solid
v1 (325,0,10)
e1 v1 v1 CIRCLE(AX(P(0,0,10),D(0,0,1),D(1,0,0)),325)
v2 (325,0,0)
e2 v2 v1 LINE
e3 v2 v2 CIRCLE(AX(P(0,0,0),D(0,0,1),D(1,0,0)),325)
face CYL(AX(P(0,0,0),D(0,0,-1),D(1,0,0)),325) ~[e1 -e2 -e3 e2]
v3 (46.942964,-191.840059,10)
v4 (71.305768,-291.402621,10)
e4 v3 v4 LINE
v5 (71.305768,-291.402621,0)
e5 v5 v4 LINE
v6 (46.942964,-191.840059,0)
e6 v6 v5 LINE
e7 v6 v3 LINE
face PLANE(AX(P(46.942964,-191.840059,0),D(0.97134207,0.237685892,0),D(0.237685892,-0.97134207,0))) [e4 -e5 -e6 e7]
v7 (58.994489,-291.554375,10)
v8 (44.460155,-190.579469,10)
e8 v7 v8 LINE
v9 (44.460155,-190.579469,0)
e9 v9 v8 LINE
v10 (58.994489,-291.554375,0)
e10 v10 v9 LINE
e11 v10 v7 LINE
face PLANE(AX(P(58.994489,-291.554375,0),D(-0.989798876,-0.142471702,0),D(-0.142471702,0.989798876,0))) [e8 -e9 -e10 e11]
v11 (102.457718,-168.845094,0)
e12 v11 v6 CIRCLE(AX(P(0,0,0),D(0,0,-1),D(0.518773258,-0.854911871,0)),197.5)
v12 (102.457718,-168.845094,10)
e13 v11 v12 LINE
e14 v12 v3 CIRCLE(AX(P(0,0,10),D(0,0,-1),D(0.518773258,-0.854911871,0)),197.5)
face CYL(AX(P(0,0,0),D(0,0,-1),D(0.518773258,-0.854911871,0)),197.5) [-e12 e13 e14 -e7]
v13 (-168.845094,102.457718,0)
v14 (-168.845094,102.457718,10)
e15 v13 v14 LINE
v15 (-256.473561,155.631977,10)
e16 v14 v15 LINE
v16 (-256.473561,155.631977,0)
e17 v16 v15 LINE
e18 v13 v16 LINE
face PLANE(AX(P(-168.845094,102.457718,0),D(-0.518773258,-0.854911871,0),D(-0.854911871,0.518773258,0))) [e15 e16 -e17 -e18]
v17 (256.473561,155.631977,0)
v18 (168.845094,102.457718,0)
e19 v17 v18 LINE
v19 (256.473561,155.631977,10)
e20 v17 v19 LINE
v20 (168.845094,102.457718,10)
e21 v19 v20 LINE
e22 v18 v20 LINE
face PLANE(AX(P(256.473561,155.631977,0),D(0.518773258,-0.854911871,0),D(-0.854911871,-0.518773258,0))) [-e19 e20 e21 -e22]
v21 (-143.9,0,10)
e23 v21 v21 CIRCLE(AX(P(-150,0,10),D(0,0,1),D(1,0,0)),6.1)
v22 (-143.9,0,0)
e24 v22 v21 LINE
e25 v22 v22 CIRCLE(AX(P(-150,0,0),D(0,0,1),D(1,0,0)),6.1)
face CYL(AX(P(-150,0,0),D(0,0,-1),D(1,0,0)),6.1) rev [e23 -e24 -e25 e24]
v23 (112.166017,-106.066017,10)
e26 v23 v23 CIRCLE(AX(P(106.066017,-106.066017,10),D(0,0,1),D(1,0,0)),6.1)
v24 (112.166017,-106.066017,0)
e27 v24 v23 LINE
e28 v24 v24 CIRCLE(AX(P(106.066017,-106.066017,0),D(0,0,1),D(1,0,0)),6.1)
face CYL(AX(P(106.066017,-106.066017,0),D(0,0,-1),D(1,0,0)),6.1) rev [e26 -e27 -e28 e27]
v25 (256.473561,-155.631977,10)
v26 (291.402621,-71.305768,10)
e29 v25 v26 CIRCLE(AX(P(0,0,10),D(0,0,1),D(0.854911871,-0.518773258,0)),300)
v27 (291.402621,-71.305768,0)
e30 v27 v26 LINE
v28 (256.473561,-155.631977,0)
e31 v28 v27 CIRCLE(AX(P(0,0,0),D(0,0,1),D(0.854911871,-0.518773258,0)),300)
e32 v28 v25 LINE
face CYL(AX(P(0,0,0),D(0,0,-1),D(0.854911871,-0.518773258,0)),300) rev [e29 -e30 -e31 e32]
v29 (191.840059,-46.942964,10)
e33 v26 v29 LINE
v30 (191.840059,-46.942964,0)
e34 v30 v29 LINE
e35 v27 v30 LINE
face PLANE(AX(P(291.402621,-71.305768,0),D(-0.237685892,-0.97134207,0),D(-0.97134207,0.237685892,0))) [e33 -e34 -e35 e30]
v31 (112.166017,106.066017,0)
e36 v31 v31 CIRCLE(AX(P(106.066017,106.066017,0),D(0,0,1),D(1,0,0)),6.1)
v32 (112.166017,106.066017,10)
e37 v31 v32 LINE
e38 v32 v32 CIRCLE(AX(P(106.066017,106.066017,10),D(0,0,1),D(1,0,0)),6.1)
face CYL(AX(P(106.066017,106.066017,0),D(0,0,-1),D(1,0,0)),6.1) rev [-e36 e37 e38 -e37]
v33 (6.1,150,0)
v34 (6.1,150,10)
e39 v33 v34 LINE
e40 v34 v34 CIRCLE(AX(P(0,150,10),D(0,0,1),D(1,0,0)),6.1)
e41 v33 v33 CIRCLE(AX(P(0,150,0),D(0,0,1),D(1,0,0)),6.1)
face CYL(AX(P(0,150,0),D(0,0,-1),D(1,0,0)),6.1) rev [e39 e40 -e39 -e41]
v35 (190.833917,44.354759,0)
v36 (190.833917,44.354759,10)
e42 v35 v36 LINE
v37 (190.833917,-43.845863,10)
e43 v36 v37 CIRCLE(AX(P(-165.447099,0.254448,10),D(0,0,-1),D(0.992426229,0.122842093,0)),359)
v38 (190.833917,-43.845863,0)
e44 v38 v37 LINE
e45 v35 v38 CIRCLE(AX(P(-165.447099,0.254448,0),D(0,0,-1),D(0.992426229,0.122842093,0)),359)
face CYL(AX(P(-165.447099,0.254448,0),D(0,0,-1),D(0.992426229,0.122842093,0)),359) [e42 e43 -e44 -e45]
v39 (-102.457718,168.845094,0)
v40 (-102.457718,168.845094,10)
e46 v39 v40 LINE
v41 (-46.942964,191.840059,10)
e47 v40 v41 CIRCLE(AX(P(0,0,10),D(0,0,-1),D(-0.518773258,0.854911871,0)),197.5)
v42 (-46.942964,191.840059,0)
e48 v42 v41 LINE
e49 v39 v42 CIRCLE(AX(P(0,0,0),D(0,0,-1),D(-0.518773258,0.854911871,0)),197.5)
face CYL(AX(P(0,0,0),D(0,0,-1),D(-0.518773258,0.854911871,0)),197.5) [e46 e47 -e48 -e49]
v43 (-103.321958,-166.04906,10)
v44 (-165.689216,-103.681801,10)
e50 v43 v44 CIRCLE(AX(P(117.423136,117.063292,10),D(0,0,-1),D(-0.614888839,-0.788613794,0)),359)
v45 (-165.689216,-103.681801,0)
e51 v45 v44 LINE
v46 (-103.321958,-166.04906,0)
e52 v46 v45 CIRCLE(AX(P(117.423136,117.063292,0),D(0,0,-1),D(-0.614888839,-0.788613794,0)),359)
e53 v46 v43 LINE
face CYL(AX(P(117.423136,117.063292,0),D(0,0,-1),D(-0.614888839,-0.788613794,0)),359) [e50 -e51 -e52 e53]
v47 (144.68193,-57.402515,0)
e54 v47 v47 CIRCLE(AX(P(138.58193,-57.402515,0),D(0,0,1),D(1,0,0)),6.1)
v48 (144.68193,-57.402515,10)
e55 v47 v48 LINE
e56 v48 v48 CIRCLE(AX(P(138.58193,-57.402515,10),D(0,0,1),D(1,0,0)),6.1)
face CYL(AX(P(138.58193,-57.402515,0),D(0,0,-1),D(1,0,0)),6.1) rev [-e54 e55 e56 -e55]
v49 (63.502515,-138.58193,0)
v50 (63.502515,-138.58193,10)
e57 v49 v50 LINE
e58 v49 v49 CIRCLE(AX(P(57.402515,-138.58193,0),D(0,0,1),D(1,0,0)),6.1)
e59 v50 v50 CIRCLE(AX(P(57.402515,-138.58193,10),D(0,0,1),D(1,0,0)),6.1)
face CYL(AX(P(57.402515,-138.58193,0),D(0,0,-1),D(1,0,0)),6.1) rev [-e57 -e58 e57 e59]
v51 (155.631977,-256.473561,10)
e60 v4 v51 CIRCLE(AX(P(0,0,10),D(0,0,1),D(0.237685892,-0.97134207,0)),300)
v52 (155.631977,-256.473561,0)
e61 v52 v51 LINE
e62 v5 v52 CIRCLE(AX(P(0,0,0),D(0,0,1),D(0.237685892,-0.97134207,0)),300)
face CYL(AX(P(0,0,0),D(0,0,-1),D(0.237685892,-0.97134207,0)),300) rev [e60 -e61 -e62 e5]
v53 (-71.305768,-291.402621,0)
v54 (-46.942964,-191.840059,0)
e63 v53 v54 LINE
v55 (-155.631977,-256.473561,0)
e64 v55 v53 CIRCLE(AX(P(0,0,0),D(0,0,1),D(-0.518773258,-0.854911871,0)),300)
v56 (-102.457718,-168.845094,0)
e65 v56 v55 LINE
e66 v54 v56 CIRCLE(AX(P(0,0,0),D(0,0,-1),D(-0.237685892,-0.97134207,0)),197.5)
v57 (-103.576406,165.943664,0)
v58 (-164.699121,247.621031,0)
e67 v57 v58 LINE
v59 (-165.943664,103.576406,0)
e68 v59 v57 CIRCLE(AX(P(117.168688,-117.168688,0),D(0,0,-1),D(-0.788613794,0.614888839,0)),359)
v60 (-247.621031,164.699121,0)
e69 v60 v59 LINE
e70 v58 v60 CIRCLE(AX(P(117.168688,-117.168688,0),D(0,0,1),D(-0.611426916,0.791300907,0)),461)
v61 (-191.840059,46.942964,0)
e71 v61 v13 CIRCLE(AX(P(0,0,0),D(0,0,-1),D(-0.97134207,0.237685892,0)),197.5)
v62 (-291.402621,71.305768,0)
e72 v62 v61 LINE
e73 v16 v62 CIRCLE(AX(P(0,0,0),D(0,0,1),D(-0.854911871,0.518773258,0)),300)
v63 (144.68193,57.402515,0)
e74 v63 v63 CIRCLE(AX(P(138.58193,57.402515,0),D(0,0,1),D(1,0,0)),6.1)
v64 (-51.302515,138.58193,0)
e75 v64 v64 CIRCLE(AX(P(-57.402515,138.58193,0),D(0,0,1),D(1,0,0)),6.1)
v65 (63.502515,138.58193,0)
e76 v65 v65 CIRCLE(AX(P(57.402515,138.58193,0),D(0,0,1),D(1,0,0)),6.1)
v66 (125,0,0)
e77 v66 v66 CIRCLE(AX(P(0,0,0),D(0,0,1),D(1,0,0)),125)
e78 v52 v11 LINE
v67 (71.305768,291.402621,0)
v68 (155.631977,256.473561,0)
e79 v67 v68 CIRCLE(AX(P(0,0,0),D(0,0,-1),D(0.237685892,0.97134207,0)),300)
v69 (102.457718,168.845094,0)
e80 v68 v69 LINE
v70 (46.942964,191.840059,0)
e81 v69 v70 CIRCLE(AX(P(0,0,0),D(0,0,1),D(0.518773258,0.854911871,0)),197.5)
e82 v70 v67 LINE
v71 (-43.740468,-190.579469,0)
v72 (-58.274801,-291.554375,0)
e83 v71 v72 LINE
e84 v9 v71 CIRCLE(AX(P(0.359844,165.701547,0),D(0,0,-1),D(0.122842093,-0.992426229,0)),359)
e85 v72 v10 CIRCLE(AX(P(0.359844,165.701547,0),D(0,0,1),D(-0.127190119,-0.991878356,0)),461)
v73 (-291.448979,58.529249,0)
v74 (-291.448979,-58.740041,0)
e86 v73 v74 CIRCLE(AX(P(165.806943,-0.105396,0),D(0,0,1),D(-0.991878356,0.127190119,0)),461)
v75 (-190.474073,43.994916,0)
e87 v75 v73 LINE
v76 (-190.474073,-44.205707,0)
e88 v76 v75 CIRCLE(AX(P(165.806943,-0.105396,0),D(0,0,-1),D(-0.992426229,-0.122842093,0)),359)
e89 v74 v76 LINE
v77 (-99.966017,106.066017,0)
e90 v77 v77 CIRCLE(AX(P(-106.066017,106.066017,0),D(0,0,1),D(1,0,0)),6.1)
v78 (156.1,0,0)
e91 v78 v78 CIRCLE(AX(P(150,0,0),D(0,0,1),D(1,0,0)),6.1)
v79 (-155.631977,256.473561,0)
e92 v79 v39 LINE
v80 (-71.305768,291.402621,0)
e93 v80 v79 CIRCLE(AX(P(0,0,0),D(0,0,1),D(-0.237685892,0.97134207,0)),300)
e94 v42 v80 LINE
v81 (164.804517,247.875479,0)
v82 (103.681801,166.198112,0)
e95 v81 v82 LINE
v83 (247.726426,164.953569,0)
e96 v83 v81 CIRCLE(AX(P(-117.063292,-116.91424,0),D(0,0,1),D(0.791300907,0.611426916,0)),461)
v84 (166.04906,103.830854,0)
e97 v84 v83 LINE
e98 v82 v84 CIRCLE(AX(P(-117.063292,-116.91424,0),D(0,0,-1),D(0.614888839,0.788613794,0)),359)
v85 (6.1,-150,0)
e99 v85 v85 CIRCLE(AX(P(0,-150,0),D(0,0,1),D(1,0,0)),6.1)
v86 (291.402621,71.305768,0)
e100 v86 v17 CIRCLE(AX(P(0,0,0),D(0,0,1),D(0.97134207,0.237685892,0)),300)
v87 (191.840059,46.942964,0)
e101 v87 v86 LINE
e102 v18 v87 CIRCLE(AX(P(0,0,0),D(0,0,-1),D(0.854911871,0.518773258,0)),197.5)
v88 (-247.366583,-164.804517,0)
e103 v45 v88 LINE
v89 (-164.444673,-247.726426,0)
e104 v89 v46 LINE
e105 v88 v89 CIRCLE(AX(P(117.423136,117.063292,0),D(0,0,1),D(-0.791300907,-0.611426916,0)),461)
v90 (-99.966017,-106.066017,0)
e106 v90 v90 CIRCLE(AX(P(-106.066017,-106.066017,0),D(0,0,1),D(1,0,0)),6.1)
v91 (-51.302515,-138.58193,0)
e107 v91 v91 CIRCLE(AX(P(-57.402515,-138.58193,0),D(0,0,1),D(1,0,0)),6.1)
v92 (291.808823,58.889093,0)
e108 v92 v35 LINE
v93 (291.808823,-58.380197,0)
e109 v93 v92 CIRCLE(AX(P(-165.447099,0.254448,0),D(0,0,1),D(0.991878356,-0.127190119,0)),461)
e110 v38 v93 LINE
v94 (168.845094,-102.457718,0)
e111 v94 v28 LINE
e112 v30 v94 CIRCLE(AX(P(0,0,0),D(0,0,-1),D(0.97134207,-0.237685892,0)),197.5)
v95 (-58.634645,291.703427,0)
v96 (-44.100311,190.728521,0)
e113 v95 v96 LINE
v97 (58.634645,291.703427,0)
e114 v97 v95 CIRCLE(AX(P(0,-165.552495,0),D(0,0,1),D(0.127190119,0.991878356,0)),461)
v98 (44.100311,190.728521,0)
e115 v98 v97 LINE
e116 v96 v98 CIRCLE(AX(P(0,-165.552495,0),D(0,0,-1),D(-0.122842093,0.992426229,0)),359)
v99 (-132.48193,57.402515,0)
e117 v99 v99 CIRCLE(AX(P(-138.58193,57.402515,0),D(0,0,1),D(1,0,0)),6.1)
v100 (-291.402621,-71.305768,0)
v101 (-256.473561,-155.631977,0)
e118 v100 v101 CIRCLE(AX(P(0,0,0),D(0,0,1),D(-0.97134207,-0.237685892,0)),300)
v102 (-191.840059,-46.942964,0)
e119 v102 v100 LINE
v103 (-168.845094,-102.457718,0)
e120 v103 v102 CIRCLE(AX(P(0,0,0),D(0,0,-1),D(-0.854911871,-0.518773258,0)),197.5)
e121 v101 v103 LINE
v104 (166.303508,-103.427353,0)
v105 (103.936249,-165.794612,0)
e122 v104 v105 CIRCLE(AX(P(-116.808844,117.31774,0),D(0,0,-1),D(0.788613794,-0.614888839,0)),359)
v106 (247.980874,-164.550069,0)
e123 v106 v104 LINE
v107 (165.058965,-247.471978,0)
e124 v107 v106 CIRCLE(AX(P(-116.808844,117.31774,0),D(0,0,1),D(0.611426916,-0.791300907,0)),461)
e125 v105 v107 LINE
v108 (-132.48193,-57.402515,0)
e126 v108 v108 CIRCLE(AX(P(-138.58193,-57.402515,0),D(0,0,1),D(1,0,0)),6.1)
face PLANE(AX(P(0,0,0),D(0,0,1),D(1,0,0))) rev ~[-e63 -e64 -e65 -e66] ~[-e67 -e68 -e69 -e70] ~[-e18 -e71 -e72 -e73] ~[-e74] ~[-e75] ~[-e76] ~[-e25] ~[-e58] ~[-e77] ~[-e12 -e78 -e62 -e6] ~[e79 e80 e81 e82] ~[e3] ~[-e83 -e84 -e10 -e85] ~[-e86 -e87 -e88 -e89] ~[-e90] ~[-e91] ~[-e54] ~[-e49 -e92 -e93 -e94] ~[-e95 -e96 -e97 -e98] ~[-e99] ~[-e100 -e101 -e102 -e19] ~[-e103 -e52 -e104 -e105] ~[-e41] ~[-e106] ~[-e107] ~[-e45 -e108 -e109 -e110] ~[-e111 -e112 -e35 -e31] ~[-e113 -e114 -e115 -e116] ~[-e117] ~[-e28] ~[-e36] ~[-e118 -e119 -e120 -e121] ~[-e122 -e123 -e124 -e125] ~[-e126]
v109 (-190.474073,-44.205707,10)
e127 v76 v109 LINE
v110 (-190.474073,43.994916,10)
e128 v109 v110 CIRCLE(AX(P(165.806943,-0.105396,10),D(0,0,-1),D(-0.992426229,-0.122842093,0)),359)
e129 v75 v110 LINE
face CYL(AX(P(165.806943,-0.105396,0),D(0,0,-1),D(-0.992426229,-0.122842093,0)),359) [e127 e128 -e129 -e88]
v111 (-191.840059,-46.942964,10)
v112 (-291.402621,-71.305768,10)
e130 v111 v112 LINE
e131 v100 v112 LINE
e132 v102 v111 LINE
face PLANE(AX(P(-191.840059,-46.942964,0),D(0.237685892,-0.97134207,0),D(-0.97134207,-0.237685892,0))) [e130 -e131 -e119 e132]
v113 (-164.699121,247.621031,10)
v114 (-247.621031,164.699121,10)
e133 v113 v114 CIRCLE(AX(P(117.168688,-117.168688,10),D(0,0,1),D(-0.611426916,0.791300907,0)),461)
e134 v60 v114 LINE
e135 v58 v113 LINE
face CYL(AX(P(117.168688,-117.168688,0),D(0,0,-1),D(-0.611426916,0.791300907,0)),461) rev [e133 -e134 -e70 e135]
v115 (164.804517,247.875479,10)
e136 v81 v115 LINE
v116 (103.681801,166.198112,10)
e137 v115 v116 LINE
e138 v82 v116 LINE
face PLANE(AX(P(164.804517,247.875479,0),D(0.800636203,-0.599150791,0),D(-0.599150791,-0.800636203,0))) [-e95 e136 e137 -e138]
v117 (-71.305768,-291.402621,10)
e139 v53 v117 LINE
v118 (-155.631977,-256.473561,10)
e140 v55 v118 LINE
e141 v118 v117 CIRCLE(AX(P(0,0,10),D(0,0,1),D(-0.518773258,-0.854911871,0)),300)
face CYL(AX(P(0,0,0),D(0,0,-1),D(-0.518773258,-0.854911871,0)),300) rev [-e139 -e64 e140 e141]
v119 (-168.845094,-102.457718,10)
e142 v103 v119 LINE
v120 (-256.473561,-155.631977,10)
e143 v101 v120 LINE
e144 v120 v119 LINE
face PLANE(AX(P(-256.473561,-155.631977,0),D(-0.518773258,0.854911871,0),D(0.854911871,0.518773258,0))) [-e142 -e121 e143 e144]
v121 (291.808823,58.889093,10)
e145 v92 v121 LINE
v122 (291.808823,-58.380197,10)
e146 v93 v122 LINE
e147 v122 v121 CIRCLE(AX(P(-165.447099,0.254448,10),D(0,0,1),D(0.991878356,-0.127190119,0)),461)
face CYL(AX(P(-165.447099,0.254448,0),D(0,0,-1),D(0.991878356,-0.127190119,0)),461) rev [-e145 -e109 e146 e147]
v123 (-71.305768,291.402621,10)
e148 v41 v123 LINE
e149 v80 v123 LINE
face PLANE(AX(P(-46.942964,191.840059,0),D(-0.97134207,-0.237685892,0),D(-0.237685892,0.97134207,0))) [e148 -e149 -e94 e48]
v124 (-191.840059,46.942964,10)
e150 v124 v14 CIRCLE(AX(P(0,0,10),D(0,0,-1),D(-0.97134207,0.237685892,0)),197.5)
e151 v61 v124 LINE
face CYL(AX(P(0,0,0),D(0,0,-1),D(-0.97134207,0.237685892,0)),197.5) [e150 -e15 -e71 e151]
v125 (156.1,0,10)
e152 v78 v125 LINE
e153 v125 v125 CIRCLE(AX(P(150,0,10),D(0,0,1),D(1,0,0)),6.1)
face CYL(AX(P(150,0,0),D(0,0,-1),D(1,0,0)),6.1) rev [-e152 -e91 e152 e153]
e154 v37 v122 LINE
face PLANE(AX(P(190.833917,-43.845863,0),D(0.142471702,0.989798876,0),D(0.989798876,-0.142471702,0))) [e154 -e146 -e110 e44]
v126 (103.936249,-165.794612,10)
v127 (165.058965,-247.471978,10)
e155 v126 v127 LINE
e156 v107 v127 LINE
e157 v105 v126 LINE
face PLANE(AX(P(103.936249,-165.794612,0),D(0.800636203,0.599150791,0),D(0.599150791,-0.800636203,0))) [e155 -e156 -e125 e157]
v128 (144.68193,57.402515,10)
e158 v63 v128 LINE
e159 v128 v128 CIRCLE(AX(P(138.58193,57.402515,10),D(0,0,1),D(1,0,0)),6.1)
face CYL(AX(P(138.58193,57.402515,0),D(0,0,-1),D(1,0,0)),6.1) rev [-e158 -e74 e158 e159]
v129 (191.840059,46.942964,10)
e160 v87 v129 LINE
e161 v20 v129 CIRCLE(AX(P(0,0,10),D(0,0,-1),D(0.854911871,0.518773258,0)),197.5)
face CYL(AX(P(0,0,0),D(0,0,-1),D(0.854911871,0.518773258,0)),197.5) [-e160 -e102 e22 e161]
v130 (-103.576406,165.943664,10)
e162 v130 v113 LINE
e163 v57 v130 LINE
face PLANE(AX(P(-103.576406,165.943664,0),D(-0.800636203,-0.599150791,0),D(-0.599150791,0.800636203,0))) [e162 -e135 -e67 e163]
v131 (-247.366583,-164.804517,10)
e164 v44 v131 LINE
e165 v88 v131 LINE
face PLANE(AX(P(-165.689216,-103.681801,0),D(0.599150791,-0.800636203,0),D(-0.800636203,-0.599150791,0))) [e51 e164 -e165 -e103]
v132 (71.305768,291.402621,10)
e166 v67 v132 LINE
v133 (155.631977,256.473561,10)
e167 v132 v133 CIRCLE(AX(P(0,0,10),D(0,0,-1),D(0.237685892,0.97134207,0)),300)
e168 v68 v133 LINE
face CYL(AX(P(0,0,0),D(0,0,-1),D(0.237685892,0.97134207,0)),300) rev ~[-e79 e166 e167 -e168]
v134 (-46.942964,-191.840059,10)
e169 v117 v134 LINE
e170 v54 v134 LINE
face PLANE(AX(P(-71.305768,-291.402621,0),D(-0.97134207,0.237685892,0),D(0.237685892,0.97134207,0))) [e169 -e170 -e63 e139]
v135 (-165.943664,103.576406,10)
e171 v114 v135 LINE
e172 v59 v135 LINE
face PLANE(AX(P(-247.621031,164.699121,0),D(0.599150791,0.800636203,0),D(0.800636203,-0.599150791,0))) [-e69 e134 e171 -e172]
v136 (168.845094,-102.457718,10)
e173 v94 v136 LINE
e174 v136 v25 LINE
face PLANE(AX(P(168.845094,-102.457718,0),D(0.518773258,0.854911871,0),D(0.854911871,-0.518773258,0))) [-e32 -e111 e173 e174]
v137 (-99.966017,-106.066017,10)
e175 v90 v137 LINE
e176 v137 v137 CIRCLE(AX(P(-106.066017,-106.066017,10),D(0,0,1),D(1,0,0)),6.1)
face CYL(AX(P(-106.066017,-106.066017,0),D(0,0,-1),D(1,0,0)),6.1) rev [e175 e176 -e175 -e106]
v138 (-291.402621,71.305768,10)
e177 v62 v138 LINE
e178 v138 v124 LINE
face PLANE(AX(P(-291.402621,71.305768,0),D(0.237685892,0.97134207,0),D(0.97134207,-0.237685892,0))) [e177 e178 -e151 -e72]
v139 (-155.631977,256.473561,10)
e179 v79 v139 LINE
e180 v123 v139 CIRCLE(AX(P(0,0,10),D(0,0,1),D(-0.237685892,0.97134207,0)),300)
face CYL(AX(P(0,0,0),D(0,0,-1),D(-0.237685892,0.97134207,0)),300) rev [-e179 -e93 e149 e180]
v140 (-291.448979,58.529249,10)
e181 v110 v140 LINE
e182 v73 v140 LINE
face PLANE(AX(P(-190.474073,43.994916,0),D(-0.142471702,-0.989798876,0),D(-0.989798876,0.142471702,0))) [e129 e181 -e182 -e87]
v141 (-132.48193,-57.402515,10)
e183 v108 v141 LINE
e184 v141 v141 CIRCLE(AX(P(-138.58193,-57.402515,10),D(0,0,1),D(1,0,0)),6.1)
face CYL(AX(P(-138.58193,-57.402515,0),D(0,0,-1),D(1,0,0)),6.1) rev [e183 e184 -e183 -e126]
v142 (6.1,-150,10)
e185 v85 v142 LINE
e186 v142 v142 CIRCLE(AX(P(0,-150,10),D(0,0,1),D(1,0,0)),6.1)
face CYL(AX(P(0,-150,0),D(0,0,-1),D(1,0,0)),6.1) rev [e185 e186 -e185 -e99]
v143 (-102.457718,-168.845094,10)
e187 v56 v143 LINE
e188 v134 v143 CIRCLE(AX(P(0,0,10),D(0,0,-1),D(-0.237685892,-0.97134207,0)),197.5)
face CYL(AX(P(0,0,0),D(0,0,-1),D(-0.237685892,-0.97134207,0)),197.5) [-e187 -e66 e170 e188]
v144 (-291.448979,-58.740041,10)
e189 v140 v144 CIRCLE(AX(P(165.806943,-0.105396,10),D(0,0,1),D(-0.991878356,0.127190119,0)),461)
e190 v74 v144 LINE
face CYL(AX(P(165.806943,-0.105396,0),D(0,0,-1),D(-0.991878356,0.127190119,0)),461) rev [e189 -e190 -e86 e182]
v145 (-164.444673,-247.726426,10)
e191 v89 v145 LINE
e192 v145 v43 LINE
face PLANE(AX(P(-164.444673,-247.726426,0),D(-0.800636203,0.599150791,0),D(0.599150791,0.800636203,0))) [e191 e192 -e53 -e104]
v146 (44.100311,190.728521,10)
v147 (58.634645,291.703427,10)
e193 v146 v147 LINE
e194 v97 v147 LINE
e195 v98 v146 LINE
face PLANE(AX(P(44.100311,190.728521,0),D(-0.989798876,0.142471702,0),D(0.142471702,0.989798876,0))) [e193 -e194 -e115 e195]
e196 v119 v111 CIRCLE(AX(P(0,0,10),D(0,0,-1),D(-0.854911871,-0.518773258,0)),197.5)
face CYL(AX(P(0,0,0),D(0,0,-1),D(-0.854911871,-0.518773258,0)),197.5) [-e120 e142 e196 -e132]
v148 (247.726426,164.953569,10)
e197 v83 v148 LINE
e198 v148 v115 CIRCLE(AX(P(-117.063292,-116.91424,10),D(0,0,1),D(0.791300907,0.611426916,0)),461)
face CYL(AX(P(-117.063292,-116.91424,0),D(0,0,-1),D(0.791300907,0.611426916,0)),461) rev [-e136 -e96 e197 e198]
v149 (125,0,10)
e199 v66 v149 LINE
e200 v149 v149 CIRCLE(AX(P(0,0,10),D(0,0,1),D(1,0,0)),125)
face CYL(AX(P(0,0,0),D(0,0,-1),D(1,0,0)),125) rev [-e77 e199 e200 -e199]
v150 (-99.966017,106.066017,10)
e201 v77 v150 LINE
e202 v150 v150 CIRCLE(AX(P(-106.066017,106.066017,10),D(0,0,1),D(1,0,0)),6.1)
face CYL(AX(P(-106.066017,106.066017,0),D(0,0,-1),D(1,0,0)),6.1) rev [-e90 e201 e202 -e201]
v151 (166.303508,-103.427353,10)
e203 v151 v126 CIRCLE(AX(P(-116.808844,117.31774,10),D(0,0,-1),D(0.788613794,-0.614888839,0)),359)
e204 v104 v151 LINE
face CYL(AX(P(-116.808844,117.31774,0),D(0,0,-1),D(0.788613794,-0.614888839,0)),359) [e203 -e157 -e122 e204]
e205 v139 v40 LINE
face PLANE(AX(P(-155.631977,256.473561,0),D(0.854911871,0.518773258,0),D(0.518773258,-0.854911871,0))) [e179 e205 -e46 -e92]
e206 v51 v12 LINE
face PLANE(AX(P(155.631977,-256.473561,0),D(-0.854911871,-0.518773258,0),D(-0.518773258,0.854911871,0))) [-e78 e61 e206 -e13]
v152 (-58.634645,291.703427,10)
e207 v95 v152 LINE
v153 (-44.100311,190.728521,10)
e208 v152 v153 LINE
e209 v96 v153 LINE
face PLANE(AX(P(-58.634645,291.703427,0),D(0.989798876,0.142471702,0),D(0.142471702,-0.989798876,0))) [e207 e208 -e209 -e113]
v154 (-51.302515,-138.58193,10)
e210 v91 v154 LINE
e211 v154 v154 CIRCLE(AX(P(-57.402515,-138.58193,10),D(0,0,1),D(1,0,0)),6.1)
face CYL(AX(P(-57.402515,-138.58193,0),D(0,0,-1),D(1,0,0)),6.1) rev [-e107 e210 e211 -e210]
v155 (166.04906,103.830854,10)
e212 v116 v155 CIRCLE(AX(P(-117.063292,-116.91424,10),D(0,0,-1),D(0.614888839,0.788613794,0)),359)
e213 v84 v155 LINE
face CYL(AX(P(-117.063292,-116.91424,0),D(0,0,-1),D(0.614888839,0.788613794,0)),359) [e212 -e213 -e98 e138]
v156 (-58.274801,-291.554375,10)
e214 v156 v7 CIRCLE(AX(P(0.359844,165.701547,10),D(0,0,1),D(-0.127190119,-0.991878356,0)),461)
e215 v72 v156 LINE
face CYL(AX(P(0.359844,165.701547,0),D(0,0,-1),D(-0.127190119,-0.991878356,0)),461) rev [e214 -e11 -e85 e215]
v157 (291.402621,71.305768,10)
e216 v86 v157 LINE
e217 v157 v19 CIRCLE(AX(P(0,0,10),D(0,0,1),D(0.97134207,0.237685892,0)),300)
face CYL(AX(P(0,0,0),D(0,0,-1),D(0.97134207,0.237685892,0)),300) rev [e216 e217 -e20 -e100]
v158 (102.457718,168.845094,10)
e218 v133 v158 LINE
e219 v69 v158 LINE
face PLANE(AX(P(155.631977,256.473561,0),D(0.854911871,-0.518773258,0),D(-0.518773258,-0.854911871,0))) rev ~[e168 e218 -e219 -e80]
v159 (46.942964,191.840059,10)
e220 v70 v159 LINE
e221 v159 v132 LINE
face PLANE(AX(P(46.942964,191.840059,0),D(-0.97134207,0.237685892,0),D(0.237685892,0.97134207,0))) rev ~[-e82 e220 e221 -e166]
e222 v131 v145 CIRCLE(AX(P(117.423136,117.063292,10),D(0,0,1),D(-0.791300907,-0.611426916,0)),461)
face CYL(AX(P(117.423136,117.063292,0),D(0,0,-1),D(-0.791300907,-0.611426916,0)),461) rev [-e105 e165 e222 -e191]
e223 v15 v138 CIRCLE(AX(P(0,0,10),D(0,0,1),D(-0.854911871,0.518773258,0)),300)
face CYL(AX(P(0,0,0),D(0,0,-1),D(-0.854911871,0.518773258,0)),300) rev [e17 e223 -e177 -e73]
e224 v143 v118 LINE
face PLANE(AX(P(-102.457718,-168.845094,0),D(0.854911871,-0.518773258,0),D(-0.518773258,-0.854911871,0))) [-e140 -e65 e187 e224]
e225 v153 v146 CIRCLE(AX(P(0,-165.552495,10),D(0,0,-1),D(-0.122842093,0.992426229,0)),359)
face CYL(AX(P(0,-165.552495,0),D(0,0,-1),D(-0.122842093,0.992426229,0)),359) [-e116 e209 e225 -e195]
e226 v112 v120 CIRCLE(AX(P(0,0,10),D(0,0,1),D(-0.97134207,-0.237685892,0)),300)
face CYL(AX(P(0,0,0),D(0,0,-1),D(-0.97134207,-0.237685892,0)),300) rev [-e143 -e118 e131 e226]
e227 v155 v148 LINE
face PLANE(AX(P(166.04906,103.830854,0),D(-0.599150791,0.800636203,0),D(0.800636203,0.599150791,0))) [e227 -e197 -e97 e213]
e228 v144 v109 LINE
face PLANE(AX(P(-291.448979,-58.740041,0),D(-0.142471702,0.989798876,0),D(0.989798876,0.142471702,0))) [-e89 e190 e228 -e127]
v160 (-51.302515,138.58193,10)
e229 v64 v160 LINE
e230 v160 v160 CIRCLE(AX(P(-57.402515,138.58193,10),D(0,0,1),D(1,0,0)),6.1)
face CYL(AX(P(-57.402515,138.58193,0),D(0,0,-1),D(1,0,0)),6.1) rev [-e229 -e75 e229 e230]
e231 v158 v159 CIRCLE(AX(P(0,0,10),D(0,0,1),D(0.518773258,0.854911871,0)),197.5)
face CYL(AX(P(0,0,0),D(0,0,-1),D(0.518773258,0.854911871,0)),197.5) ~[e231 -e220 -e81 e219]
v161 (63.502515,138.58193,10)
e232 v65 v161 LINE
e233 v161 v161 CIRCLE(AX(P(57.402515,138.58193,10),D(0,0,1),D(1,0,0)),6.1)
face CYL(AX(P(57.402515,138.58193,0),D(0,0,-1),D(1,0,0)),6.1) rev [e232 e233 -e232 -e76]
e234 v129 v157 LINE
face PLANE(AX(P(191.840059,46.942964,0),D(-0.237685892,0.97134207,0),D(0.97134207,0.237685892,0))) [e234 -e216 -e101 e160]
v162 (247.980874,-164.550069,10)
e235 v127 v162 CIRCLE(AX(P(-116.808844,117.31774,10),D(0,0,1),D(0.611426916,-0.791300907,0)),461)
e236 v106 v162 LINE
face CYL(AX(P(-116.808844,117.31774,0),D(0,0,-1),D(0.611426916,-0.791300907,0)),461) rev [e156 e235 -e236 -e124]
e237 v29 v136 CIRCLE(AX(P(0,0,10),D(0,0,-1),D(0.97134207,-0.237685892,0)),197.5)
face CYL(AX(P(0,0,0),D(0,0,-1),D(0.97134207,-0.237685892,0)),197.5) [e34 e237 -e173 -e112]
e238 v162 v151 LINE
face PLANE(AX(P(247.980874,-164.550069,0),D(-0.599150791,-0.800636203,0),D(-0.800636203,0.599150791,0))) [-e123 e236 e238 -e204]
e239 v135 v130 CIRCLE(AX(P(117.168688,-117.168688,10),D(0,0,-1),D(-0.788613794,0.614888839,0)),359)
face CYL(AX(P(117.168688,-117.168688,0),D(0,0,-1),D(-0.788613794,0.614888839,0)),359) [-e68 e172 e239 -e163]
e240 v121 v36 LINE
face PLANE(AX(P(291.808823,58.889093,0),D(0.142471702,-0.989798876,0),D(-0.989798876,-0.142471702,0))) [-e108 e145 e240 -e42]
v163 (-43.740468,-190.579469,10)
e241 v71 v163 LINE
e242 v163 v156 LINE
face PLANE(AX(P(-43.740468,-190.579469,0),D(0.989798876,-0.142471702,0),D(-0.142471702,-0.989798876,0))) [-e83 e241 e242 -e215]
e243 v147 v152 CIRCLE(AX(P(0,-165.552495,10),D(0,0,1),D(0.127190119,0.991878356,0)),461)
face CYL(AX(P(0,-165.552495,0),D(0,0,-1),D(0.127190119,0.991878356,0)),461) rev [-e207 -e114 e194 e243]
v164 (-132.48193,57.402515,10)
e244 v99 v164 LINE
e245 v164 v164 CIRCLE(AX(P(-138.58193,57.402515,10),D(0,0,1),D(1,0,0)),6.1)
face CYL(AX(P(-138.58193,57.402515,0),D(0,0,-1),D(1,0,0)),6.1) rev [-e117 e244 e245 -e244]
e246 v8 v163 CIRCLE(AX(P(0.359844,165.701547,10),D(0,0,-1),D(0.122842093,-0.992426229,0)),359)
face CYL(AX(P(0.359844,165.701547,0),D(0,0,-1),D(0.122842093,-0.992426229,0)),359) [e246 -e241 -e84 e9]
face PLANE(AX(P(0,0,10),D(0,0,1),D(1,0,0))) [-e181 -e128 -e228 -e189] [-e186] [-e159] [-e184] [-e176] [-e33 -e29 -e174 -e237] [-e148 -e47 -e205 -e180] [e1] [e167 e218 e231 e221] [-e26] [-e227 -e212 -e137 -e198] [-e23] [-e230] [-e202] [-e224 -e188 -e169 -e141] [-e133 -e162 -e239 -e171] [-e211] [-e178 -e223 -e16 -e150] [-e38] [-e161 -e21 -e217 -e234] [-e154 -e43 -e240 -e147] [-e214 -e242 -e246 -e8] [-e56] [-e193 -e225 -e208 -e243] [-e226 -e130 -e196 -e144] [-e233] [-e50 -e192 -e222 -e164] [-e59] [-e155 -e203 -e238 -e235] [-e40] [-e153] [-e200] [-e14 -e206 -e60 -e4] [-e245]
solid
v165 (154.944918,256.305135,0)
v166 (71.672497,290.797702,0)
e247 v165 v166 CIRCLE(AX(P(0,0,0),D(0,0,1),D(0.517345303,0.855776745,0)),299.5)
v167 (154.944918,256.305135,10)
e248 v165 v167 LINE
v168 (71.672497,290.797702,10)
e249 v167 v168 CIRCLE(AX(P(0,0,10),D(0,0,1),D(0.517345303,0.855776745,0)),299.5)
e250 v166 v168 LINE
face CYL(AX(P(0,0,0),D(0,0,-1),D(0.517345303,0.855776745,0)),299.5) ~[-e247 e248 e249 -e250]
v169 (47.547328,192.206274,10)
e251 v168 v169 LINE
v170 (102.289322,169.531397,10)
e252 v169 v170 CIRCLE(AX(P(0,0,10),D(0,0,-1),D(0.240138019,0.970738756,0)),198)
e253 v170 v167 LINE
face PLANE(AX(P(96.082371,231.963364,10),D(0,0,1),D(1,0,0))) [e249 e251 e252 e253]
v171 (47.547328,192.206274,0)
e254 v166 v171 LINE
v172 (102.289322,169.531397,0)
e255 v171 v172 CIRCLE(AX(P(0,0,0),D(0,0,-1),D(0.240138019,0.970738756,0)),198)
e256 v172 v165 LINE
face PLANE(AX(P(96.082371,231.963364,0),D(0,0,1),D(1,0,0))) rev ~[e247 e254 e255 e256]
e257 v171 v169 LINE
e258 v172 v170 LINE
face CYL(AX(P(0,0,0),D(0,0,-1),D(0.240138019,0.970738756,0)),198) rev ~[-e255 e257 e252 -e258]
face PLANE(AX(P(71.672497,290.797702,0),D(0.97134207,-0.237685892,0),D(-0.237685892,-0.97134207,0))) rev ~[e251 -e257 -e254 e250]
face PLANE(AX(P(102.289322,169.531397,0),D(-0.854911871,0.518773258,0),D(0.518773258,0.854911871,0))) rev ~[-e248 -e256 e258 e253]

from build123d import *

# Parameters (mm, degrees)
SKETCH1_R           = 325
SKETCH1_R_2         = 125
SKETCH1_R_3         = 6.1
BOSS_EXTRUDE1_DEPTH = 10
BOSS_EXTRUDE2_DEPTH = 10
CUT_EXTRUDE1_DEPTH  = 10


with BuildPart() as part:
    # Sketch1 → Boss-Extrude1 (new body)
    with BuildSketch(Plane.XY):
        Circle(SKETCH1_R)
        Circle(SKETCH1_R_2, mode=Mode.SUBTRACT)
        with Locations((0, 150)):
            Circle(SKETCH1_R_3, mode=Mode.SUBTRACT)
        with Locations((57.402514855, 138.581929877)):
            Circle(SKETCH1_R_3, mode=Mode.SUBTRACT)
        with Locations((106.066017178, 106.066017178)):
            Circle(SKETCH1_R_3, mode=Mode.SUBTRACT)
        with Locations((138.581929877, 57.402514855)):
            Circle(SKETCH1_R_3, mode=Mode.SUBTRACT)
        with Locations((150, 0)):
            Circle(SKETCH1_R_3, mode=Mode.SUBTRACT)
        with Locations((138.581929877, -57.402514855)):
            Circle(SKETCH1_R_3, mode=Mode.SUBTRACT)
        with Locations((106.066017178, -106.066017178)):
            Circle(SKETCH1_R_3, mode=Mode.SUBTRACT)
        with Locations((57.402514855, -138.581929877)):
            Circle(SKETCH1_R_3, mode=Mode.SUBTRACT)
        with Locations((0, -150)):
            Circle(SKETCH1_R_3, mode=Mode.SUBTRACT)
        with Locations((-57.402514855, -138.581929877)):
            Circle(SKETCH1_R_3, mode=Mode.SUBTRACT)
        with Locations((-106.066017178, -106.066017178)):
            Circle(SKETCH1_R_3, mode=Mode.SUBTRACT)
        with Locations((-138.581929877, -57.402514855)):
            Circle(SKETCH1_R_3, mode=Mode.SUBTRACT)
        with Locations((-150, 0)):
            Circle(SKETCH1_R_3, mode=Mode.SUBTRACT)
        with Locations((-138.581929877, 57.402514855)):
            Circle(SKETCH1_R_3, mode=Mode.SUBTRACT)
        with Locations((-106.066017178, 106.066017178)):
            Circle(SKETCH1_R_3, mode=Mode.SUBTRACT)
        with Locations((-57.402514855, 138.581929877)):
            Circle(SKETCH1_R_3, mode=Mode.SUBTRACT)
        with BuildLine():
            Line((46.942963734, 191.840058788), (71.305767698, 291.402620944))
            ThreePointArc((71.305767698, 291.402620944), (114.80502971, 277.163859753), (155.631977448, 256.473561202))
            Line((155.631977448, 256.473561202), (102.457718487, 168.845094458))
            ThreePointArc((102.457718487, 168.845094458), (75.579977892, 182.466207671), (46.942963734, 191.840058788))
        make_face(mode=Mode.SUBTRACT)
        with BuildLine():
            Line((191.840058788, 46.942963734), (291.402620944, 71.305767698))
            ThreePointArc((291.402620944, 71.305767698), (277.163859753, 114.80502971), (256.473561202, 155.631977448))
            Line((256.473561202, 155.631977448), (168.845094458, 102.457718487))
            ThreePointArc((168.845094458, 102.457718487), (182.466207671, 75.579977892), (191.840058788, 46.942963734))
        make_face(mode=Mode.SUBTRACT)
        with BuildLine():
            Line((168.845094458, -102.457718487), (256.473561202, -155.631977448))
            ThreePointArc((256.473561202, -155.631977448), (277.163859753, -114.80502971), (291.402620944, -71.305767698))
            Line((291.402620944, -71.305767698), (191.840058788, -46.942963734))
            ThreePointArc((191.840058788, -46.942963734), (182.466207671, -75.579977892), (168.845094458, -102.457718487))
        make_face(mode=Mode.SUBTRACT)
        with BuildLine():
            Line((46.942963734, -191.840058788), (71.305767698, -291.402620944))
            ThreePointArc((71.305767698, -291.402620944), (114.80502971, -277.163859753), (155.631977448, -256.473561202))
            Line((155.631977448, -256.473561202), (102.457718487, -168.845094458))
            ThreePointArc((102.457718487, -168.845094458), (75.579977892, -182.466207671), (46.942963734, -191.840058788))
        make_face(mode=Mode.SUBTRACT)
        with BuildLine():
            Line((-102.457718487, -168.845094458), (-155.631977448, -256.473561202))
            ThreePointArc((-155.631977448, -256.473561202), (-114.80502971, -277.163859753), (-71.305767698, -291.402620944))
            Line((-71.305767698, -291.402620944), (-46.942963734, -191.840058788))
            ThreePointArc((-46.942963734, -191.840058788), (-75.579977892, -182.466207671), (-102.457718487, -168.845094458))
        make_face(mode=Mode.SUBTRACT)
        with BuildLine():
            Line((-191.840058788, -46.942963734), (-291.402620944, -71.305767698))
            ThreePointArc((-291.402620944, -71.305767698), (-277.163859753, -114.80502971), (-256.473561202, -155.631977448))
            Line((-256.473561202, -155.631977448), (-168.845094458, -102.457718487))
            ThreePointArc((-168.845094458, -102.457718487), (-182.466207671, -75.579977892), (-191.840058788, -46.942963734))
        make_face(mode=Mode.SUBTRACT)
        with BuildLine():
            Line((-168.845094458, 102.457718487), (-256.473561202, 155.631977448))
            ThreePointArc((-256.473561202, 155.631977448), (-277.163859753, 114.80502971), (-291.402620944, 71.305767698))
            Line((-291.402620944, 71.305767698), (-191.840058788, 46.942963734))
            ThreePointArc((-191.840058788, 46.942963734), (-182.466207671, 75.579977892), (-168.845094458, 102.457718487))
        make_face(mode=Mode.SUBTRACT)
        with BuildLine():
            Line((-46.942963734, 191.840058788), (-71.305767698, 291.402620944))
            ThreePointArc((-71.305767698, 291.402620944), (-114.80502971, 277.163859753), (-155.631977448, 256.473561202))
            Line((-155.631977448, 256.473561202), (-102.457718487, 168.845094458))
            ThreePointArc((-102.457718487, 168.845094458), (-75.579977892, 182.466207671), (-46.942963734, 191.840058788))
        make_face(mode=Mode.SUBTRACT)
    extrude(amount=BOSS_EXTRUDE1_DEPTH)

    # Sketch3 → Cut-Extrude1 (cut)
    with BuildSketch(Plane(origin=(0, 0, 0), x_dir=(-1, 0, 0), z_dir=(0, 0, -1))):
        with BuildLine():
            Line((58.634644714, 291.703427262), (44.100311487, 190.728521236))
            ThreePointArc((44.100311487, 190.728521236), (0, 193.447505004), (-44.100311487, 190.728521236))
            Line((-44.100311487, 190.728521236), (-58.634644714, 291.703427262))
            ThreePointArc((-58.634644714, 291.703427262), (0, 295.447505004), (58.634644714, 291.703427262))
        make_face()
        with BuildLine():
            Line((247.621030589, 164.69912081), (165.943664224, 103.576405615))
            ThreePointArc((165.943664224, 103.576405615), (136.68264678, 136.68264678), (103.576405615, 165.943664224))
            Line((103.576405615, 165.943664224), (164.69912081, 247.621030589))
            ThreePointArc((164.69912081, 247.621030589), (208.807538461, 208.807538461), (247.621030589, 164.69912081))
        make_face()
        with BuildLine():
            Line((291.448979263, -58.740040526), (190.474073237, -44.205707299))
            ThreePointArc((190.474073237, -44.205707299), (193.193057005, -0.105395812), (190.474073237, 43.994915675))
            Line((190.474073237, 43.994915675), (291.448979263, 58.529248902))
            ThreePointArc((291.448979263, 58.529248902), (295.193057005, -0.105395812), (291.448979263, -58.740040526))
        make_face()
        with BuildLine():
            Line((164.444672811, -247.726426402), (103.321957616, -166.049060036))
            ThreePointArc((103.321957616, -166.049060036), (136.428198781, -136.788042592), (165.689216225, -103.681801427))
            Line((165.689216225, -103.681801427), (247.36658259, -164.804516623))
            ThreePointArc((247.36658259, -164.804516623), (208.553090462, -208.912934273), (164.444672811, -247.726426402))
        make_face()
        with BuildLine():
            Line((-58.994488525, -291.554375075), (-44.460155298, -190.579469049))
            ThreePointArc((-44.460155298, -190.579469049), (-0.359843811, -193.298452818), (43.740467676, -190.579469049))
            Line((43.740467676, -190.579469049), (58.274800903, -291.554375075))
            ThreePointArc((58.274800903, -291.554375075), (-0.359843811, -295.298452818), (-58.994488525, -291.554375075))
        make_face()
        with BuildLine():
            Line((-247.980874401, -164.550068624), (-166.303508035, -103.427353428))
            ThreePointArc((-166.303508035, -103.427353428), (-137.042490591, -136.533594593), (-103.936249426, -165.794612037))
            Line((-103.936249426, -165.794612037), (-165.058964622, -247.471978403))
            ThreePointArc((-165.058964622, -247.471978403), (-209.167382272, -208.658486274), (-247.980874401, -164.550068624))
        make_face()
        with BuildLine():
            Line((-291.808823074, 58.889092713), (-190.833917048, 44.354759486))
            ThreePointArc((-190.833917048, 44.354759486), (-193.552900817, 0.254447999), (-190.833917048, -43.845863488))
            Line((-190.833917048, -43.845863488), (-291.808823074, -58.380196715))
            ThreePointArc((-291.808823074, -58.380196715), (-295.552900817, 0.254447999), (-291.808823074, 58.889092713))
        make_face()
        with BuildLine():
            Line((-164.804516623, 247.875478588), (-103.681801427, 166.198112223))
            ThreePointArc((-103.681801427, 166.198112223), (-136.788042592, 136.937094779), (-166.049060036, 103.830853614))
            Line((-166.049060036, 103.830853614), (-247.726426402, 164.953568809))
            ThreePointArc((-247.726426402, 164.953568809), (-208.912934273, 209.06198646), (-164.804516623, 247.875478588))
        make_face()
    extrude(amount=-CUT_EXTRUDE1_DEPTH, mode=Mode.SUBTRACT)


with BuildPart() as body_2:
    # Sketch2 → Boss-Extrude2 (new body)
    with BuildSketch(Plane(origin=(0, 0, 0), x_dir=(-1, 0, 0), z_dir=(0, 0, -1))):
        with BuildLine():
            Line((-102.289321672, 169.531397304), (-154.944918367, 256.305135087))
            ThreePointArc((-154.944918367, 256.305135087), (-114.613687993, 276.701919987), (-71.672496585, 290.797701561))
            Line((-71.672496585, 290.797701561), (-47.547327661, 192.206273655))
            ThreePointArc((-47.547327661, 192.206273655), (-75.771319608, 182.928147437), (-102.289321672, 169.531397304))
        make_face()
    extrude(amount=-BOSS_EXTRUDE2_DEPTH)


solid = Compound([part.part, body_2.part])
